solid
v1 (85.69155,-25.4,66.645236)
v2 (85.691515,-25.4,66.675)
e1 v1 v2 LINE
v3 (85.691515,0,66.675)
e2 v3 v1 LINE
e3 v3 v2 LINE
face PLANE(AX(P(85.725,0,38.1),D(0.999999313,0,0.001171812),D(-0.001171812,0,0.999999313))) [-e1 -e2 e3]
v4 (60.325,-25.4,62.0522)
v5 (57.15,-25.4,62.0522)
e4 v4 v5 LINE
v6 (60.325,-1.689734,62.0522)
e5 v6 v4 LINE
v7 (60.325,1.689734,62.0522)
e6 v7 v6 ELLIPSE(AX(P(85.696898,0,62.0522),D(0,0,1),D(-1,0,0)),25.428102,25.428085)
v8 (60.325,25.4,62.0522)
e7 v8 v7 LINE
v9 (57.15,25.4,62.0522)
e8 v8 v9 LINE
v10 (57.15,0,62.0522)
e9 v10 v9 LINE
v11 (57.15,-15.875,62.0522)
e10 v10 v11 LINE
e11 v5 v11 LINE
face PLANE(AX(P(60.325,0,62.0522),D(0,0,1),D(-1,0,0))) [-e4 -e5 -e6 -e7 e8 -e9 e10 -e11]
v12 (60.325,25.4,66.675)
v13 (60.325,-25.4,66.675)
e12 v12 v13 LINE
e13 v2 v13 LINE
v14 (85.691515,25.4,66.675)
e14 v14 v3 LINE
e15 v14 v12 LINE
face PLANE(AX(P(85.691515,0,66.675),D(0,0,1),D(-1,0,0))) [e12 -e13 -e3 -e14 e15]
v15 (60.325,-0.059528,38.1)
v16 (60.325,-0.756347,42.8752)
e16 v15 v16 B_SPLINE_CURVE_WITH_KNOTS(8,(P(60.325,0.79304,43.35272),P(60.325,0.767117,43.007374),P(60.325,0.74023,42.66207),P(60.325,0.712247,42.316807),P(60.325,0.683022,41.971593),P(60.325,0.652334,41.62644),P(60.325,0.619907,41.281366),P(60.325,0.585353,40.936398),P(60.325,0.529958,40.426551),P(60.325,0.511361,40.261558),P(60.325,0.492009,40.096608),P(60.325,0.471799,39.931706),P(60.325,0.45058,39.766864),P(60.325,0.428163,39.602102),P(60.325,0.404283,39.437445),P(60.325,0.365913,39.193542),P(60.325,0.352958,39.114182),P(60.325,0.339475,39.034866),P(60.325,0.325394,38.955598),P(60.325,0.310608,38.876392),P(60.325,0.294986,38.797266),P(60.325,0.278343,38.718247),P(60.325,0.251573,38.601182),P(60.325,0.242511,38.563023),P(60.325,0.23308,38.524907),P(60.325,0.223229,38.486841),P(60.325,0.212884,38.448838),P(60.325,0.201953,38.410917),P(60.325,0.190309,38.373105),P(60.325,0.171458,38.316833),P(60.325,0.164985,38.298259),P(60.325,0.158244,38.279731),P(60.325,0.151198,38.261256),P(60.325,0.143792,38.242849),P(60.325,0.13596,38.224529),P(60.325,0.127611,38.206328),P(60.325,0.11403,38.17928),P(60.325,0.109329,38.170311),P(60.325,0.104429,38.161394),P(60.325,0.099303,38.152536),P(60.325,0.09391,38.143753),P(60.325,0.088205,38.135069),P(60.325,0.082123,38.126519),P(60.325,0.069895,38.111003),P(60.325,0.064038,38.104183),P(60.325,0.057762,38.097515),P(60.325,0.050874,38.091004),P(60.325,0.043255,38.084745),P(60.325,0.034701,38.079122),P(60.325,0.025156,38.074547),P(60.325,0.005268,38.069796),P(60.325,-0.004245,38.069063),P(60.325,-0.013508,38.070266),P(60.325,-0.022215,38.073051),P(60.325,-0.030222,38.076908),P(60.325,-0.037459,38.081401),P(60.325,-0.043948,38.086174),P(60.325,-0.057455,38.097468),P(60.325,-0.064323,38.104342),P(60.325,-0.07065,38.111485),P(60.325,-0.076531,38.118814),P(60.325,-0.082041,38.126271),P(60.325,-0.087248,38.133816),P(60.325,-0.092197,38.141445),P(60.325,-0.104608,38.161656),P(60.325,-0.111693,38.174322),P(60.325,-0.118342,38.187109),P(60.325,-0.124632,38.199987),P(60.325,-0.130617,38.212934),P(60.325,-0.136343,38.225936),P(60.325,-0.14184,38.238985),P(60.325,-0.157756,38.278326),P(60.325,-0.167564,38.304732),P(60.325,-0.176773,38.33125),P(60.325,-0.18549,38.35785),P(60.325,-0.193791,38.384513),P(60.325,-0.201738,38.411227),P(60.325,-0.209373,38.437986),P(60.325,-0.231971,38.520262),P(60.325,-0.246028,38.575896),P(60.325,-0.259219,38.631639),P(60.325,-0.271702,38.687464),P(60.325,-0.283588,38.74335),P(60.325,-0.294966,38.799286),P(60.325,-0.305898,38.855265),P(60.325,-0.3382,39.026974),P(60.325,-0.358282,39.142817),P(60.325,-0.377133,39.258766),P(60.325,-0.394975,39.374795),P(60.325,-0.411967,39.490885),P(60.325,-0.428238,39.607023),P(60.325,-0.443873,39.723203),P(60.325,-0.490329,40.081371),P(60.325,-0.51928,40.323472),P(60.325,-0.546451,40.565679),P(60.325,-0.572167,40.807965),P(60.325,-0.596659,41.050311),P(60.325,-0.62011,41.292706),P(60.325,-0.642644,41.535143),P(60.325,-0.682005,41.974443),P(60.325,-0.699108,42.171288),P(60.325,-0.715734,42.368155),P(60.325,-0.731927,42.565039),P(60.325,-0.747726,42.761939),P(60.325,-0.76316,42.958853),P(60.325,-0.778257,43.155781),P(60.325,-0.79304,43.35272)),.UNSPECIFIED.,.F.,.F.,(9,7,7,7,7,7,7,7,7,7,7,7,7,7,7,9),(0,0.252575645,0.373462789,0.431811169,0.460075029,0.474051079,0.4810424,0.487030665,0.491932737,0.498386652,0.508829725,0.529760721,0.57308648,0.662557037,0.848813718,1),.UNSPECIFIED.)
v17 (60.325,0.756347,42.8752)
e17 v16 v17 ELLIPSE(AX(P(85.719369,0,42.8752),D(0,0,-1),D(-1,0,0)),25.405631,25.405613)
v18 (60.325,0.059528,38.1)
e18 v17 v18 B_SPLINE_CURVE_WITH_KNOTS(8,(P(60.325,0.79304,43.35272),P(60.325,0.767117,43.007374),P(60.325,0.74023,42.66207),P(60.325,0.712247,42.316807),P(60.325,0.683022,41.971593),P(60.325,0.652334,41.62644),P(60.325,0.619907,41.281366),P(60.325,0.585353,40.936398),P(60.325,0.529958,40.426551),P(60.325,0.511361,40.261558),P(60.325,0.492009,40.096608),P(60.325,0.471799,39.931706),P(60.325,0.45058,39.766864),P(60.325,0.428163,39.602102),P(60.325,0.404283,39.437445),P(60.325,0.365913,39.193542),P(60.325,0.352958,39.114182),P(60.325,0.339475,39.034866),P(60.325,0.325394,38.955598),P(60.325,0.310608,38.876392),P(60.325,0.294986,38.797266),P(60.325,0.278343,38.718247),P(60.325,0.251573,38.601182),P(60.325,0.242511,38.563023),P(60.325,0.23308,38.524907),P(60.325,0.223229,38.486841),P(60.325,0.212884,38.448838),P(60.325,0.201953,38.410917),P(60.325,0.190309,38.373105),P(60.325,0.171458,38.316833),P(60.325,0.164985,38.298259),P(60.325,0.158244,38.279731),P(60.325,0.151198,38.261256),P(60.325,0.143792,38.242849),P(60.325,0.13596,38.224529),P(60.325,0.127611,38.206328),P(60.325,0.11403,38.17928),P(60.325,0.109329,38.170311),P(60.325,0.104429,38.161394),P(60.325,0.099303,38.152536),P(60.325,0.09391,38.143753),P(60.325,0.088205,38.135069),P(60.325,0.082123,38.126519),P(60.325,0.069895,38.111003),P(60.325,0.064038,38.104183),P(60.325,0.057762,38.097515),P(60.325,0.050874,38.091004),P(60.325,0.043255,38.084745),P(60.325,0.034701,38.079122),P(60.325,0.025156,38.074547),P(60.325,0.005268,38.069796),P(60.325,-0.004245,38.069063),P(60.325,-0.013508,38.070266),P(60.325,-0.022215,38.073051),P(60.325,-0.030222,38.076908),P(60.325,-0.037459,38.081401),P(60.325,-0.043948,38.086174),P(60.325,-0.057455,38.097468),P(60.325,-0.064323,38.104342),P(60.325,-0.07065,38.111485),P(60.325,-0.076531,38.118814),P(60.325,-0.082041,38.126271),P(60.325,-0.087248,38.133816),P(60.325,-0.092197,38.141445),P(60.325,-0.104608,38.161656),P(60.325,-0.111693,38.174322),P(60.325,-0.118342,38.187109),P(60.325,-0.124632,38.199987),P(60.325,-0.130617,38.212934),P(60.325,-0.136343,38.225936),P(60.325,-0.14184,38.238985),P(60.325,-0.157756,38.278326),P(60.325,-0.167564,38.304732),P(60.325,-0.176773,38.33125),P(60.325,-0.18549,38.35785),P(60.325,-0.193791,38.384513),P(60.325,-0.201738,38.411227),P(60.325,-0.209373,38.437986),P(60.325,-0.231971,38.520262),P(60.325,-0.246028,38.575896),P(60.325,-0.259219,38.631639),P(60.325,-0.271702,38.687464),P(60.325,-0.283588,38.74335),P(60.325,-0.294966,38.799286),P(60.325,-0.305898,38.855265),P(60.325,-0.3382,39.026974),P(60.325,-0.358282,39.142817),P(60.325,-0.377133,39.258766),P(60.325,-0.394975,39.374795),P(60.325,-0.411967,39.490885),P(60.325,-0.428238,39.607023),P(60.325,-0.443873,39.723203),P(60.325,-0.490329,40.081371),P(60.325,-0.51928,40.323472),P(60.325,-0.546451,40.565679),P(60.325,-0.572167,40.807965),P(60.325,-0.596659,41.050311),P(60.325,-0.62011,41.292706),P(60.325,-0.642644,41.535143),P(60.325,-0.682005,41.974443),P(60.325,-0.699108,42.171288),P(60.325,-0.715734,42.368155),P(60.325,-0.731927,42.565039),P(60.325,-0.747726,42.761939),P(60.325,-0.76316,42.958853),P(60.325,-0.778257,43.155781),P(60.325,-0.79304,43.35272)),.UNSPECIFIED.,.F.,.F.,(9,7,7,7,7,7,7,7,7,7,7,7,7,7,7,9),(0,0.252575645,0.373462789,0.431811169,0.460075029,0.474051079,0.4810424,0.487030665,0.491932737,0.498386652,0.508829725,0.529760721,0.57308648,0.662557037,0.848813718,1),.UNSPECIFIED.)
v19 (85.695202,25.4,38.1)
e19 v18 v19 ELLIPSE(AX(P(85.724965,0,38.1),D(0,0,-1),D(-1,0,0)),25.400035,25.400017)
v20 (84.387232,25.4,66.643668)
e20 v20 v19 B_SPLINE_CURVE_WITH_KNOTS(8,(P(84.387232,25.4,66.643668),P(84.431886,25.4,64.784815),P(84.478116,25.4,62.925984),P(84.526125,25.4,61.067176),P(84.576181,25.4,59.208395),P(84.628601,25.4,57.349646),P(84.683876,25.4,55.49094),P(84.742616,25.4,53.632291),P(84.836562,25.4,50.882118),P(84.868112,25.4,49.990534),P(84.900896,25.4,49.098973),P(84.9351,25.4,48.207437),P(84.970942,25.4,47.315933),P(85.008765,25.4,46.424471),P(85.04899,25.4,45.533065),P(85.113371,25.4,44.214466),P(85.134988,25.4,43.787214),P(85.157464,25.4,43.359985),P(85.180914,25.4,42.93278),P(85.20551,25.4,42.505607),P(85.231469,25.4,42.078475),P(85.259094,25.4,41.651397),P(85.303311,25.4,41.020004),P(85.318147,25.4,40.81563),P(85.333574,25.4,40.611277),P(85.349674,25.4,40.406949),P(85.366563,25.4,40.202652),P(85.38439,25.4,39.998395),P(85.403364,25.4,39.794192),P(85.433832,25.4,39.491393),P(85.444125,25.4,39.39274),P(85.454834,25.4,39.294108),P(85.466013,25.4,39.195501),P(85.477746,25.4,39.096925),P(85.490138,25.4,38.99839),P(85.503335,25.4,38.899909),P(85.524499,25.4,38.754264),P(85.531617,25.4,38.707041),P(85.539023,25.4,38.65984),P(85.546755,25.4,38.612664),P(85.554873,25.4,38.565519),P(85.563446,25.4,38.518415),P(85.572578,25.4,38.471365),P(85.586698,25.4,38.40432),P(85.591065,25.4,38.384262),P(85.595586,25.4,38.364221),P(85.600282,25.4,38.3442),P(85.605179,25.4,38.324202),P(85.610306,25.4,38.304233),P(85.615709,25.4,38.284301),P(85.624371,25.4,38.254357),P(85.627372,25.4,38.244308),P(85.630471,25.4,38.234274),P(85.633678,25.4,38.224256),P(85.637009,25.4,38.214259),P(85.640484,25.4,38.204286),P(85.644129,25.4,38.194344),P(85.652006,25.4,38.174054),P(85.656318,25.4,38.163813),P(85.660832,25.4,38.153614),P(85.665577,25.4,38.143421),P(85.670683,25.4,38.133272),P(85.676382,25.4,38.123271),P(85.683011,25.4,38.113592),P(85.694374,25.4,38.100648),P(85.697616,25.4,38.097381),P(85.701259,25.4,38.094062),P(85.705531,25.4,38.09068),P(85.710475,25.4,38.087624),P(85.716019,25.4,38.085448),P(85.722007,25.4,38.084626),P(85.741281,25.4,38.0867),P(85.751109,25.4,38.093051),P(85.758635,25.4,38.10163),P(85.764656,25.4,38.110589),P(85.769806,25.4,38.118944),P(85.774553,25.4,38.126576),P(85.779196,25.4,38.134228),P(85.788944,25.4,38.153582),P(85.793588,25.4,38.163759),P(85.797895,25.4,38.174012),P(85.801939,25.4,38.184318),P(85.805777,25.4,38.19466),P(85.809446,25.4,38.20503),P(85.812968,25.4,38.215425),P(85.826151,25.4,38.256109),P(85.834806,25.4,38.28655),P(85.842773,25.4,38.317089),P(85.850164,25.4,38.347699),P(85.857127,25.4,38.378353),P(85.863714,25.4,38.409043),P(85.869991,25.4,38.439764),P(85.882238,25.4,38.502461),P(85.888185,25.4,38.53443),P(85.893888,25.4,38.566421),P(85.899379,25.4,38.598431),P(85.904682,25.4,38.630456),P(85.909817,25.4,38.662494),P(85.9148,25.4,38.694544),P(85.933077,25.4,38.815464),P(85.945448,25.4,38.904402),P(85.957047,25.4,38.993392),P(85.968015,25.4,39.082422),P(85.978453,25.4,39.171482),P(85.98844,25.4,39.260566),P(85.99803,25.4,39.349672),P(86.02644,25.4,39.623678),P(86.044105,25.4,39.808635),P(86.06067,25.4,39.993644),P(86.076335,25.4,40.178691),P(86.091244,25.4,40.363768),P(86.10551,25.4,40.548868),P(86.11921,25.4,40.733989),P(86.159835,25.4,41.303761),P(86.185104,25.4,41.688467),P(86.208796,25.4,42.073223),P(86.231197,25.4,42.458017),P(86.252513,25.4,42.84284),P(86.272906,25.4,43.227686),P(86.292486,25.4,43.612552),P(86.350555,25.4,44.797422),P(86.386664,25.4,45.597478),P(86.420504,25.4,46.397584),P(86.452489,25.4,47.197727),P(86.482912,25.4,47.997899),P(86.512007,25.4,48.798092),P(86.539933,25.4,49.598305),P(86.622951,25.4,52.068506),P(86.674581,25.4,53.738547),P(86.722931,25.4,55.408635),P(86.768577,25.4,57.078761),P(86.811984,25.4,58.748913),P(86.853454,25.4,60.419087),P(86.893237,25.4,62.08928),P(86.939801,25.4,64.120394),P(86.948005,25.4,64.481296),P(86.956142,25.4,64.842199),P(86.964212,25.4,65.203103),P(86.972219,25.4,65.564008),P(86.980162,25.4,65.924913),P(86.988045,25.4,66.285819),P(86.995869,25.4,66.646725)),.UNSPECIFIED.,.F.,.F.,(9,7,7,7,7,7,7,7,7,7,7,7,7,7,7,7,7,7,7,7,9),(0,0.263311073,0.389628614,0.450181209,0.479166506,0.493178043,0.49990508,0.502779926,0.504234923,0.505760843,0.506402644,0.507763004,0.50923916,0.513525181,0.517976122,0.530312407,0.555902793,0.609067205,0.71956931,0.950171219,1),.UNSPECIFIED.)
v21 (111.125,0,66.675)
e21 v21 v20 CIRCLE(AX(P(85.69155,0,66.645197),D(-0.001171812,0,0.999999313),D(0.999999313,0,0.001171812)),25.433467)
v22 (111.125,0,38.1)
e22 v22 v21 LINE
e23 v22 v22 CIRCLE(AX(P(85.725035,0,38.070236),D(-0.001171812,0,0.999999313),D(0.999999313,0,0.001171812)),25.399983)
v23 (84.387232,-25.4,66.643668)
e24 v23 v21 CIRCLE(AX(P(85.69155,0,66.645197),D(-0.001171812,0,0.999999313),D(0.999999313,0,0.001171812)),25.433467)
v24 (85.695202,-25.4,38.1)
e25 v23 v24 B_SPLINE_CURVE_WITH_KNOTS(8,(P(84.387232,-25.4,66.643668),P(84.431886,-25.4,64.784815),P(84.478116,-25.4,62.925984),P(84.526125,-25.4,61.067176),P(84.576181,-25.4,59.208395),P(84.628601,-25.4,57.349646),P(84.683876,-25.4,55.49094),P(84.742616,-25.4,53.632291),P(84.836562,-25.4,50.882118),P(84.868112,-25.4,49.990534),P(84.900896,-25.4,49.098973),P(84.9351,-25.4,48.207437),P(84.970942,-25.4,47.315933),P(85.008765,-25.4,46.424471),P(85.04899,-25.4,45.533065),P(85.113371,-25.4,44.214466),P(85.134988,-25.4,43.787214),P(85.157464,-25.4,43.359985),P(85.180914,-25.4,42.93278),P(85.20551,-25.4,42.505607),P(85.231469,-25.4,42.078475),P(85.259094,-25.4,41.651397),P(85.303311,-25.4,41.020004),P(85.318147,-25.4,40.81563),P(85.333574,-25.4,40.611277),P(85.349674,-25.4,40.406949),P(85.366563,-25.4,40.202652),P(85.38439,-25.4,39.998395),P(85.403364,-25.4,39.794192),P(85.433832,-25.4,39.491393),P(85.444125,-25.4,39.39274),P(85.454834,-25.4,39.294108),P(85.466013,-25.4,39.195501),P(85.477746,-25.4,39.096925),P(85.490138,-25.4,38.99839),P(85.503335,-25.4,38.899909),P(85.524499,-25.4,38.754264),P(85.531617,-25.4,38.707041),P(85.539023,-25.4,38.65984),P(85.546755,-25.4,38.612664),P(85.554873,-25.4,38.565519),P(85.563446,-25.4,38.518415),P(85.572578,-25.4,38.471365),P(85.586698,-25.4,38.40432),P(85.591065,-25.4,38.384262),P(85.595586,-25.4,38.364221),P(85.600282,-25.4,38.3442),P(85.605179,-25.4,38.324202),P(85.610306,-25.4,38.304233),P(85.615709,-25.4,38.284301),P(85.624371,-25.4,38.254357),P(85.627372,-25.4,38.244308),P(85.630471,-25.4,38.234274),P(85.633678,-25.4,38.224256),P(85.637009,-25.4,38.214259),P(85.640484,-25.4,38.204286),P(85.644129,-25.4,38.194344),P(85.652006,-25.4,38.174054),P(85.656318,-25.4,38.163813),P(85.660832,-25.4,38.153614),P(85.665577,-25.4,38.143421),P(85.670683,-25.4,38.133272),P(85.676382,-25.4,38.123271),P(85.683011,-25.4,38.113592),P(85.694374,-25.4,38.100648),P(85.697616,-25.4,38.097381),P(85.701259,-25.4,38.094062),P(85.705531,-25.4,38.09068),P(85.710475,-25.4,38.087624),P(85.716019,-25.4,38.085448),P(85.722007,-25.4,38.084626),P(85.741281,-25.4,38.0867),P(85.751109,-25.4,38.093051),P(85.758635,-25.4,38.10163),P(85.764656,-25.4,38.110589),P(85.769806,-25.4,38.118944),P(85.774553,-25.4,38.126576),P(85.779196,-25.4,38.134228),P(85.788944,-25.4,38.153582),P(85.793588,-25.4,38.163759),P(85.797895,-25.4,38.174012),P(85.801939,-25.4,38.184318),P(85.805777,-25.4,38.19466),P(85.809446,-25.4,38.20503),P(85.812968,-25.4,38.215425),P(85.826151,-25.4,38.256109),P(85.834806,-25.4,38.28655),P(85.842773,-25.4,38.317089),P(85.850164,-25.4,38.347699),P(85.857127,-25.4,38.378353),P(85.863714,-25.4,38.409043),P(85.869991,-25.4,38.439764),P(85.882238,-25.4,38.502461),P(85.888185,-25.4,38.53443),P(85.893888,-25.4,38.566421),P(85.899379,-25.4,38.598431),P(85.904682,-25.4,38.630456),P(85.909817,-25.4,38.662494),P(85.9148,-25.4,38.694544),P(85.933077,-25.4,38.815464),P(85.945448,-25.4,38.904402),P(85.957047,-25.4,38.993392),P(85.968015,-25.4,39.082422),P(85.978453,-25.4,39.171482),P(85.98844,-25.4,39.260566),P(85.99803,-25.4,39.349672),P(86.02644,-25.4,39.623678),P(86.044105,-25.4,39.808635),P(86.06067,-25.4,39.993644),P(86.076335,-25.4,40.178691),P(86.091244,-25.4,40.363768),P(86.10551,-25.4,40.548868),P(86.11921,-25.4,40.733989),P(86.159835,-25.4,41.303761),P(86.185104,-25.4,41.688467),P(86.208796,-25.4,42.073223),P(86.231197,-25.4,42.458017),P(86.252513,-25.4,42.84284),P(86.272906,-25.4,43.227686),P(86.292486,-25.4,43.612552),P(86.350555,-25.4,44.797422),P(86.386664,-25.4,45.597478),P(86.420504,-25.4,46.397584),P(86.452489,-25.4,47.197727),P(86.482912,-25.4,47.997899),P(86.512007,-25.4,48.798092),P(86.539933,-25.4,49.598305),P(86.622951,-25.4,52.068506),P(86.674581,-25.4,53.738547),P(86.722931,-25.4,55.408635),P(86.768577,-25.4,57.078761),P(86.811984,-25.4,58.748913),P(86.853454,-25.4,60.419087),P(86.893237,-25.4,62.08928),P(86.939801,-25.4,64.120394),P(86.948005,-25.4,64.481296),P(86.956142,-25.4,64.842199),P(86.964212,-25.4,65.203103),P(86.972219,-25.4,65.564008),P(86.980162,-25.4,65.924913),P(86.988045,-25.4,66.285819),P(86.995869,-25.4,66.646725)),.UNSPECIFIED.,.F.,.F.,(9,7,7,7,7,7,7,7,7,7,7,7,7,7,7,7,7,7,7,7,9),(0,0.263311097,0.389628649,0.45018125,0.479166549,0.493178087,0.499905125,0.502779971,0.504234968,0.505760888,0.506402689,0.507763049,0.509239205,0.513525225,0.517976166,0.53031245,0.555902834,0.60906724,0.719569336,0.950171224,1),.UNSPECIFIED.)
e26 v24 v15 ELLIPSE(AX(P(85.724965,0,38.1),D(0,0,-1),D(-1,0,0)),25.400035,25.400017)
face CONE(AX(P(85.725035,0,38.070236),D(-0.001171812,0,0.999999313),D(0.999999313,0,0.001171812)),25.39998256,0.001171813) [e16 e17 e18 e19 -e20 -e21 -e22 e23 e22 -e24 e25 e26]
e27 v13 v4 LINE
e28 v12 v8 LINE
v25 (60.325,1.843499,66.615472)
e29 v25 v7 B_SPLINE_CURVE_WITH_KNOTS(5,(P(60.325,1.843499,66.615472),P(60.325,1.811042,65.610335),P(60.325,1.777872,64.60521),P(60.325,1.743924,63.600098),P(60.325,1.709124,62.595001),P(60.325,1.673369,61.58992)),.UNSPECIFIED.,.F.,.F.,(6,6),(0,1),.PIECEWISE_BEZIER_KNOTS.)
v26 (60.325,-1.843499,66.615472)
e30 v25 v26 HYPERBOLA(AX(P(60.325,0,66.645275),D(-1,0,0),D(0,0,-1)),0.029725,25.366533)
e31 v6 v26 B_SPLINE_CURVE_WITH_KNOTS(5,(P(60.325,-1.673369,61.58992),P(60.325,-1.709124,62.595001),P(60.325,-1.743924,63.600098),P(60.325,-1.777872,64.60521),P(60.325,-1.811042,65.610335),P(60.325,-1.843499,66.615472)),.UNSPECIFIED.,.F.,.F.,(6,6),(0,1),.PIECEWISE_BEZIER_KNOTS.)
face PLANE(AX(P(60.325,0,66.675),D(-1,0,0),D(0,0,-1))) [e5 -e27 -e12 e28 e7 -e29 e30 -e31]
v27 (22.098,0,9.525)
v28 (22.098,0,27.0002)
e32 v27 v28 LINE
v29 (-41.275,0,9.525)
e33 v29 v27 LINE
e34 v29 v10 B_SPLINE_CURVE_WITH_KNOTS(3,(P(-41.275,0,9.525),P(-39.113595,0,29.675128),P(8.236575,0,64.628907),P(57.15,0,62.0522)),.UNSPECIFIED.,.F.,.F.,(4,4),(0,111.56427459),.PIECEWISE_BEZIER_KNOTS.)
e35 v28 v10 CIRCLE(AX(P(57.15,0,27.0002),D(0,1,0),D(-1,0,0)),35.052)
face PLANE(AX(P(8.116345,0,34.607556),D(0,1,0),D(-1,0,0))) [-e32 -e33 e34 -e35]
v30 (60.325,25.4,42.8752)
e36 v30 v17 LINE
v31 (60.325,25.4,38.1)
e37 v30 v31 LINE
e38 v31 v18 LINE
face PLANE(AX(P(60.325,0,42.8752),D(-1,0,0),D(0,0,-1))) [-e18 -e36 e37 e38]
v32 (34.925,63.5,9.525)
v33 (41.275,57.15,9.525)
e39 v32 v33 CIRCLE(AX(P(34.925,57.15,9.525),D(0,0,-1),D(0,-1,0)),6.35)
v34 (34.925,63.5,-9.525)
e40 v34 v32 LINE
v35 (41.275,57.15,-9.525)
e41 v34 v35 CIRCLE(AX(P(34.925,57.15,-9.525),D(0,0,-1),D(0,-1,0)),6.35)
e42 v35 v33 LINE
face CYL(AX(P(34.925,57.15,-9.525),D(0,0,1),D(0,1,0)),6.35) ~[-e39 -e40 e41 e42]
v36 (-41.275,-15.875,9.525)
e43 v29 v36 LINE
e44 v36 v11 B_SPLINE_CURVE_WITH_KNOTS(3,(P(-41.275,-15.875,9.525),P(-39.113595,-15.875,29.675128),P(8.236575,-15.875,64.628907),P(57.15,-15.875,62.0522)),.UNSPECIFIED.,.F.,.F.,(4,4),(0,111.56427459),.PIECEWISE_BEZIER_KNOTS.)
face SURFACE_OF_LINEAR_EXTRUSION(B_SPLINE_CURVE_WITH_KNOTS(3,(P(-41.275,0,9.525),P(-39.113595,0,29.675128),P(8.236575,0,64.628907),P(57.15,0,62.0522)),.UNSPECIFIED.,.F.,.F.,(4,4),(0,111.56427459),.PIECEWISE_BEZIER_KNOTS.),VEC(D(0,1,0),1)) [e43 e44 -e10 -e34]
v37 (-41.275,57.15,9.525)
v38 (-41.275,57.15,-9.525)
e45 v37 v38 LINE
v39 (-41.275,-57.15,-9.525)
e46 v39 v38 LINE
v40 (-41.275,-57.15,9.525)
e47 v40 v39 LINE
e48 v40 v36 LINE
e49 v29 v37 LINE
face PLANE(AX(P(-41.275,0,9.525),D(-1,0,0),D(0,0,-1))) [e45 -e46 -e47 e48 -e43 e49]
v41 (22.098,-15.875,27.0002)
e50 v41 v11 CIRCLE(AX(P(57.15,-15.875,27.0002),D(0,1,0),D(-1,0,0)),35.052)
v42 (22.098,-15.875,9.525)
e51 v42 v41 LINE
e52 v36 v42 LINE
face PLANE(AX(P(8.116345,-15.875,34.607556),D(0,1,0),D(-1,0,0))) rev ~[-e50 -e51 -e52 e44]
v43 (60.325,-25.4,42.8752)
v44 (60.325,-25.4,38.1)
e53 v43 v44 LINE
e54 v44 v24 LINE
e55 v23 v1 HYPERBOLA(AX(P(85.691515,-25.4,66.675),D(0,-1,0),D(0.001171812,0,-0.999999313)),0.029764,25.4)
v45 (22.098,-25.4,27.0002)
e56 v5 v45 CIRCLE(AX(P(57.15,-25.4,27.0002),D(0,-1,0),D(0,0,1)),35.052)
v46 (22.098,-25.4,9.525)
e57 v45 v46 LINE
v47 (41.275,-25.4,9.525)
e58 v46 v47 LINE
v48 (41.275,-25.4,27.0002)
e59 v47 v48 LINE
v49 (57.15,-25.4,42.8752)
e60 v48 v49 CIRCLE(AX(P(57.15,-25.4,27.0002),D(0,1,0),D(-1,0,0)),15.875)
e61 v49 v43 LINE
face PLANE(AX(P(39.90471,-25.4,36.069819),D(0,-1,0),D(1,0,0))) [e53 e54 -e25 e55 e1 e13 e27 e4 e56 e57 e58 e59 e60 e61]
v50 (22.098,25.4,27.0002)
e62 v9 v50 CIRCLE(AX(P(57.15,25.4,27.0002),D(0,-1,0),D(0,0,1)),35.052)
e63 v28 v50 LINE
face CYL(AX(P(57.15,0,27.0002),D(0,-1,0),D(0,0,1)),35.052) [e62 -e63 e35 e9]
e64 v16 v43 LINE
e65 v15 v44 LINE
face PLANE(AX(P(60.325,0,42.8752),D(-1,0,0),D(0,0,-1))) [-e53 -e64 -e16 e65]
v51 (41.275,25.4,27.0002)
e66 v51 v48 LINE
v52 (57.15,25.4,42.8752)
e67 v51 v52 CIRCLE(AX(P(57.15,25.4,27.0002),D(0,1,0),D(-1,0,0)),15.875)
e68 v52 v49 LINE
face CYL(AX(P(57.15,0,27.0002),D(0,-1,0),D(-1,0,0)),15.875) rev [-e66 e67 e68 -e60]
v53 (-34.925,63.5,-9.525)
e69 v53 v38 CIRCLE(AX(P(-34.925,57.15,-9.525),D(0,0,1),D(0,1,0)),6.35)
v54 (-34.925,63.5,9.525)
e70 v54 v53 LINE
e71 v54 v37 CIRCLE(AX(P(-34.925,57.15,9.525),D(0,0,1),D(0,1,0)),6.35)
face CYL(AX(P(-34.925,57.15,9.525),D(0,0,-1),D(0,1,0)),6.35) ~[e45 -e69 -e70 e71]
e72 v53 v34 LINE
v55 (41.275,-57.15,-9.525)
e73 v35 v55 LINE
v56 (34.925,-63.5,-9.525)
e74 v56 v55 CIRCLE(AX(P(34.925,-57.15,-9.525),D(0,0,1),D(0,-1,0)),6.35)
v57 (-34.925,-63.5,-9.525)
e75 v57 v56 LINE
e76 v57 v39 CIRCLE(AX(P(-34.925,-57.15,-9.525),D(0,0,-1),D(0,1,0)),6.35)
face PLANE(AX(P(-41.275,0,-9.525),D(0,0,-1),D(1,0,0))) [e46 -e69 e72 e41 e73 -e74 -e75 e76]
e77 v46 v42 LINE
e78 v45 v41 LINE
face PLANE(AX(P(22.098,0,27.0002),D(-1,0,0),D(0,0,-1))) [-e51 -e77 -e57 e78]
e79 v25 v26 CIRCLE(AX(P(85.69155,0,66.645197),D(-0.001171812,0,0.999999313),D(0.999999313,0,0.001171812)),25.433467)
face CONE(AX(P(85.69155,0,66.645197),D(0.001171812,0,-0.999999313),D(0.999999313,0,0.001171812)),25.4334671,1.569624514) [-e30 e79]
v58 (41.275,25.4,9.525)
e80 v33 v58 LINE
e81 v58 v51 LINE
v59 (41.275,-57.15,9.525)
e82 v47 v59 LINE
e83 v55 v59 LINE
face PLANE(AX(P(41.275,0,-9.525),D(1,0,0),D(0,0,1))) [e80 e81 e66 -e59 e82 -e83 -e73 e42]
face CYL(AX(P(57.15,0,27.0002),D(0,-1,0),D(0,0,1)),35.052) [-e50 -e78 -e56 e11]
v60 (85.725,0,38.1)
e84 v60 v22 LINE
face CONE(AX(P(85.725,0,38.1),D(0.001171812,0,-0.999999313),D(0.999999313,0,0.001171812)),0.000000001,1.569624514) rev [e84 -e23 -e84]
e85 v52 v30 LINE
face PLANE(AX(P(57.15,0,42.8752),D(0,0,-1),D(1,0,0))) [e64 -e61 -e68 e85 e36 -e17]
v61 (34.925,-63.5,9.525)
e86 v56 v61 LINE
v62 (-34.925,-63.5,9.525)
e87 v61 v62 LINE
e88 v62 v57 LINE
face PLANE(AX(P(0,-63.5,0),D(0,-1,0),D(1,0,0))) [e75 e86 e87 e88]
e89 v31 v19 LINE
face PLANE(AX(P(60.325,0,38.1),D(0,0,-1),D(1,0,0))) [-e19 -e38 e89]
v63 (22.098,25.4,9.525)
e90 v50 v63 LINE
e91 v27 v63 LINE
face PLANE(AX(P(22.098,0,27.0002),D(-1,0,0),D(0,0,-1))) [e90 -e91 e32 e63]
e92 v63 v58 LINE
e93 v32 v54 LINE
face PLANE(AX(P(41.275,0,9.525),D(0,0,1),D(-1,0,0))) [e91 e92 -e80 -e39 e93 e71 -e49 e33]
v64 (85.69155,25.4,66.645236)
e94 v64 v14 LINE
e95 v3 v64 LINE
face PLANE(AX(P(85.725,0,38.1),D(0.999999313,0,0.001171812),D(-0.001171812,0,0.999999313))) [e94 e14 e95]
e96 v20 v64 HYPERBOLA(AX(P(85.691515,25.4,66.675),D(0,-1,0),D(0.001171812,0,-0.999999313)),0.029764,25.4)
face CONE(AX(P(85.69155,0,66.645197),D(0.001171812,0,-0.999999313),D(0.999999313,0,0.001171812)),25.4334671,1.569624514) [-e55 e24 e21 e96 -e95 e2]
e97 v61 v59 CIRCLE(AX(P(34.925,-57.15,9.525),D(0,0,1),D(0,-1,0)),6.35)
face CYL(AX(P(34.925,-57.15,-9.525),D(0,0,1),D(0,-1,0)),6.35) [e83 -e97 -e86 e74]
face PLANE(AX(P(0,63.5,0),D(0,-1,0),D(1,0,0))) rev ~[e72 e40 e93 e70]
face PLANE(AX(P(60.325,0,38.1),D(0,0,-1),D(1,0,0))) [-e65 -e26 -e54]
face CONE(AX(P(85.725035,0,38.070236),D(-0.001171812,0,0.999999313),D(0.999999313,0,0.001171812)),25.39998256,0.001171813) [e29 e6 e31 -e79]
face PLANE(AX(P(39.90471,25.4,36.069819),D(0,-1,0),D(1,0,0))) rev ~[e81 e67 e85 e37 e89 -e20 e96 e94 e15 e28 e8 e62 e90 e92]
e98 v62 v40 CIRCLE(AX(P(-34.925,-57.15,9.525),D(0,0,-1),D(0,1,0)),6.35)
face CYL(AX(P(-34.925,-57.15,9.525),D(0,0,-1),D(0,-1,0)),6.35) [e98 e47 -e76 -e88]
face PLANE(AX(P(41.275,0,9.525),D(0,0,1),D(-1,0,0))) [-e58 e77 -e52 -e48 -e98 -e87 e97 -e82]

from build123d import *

# Parameters (mm, degrees)
F1_DEPTH = 63.5
F2_DEPTH = 25.4
F3_DEPTH = 15.875
F5_R     = 6.35


with BuildPart() as f1:
    # F0 (on Front) → F1 (new body, symmetric)
    with BuildSketch(Plane.XZ):
        Polygon((-41.275, -9.525), (41.275, -9.525), (41.275, 9.525), (22.098, 9.525), (-41.275, 9.525), align=None)
    extrude(amount=F1_DEPTH, both=True)

    # F0 (on Front) → F2 (join, symmetric)
    with BuildSketch(Plane.XZ):
        with BuildLine():
            Line((22.098, 9.525), (41.275, 9.525))
            Line((41.275, 9.525), (41.275, 27.0002))
            ThreePointArc((41.275, 27.0002), (45.9246798487, 38.2255201513), (57.15, 42.8752))
            Line((57.15, 42.8752), (60.325, 42.8752))
            Line((60.325, 42.8752), (60.325, 62.0522))
            Line((60.325, 62.0522), (57.15, 62.0522))
            ThreePointArc((57.15, 62.0522), (32.3644931058, 51.7857068942), (22.098, 27.0002))
            Line((22.098, 27.0002), (22.098, 9.525))
        make_face()
        Polygon((60.325, 66.675), (60.325, 62.0522), (60.325, 42.8752), (60.325, 38.1), (85.725, 38.1), (85.6915154391, 66.675), align=None)
    extrude(amount=F2_DEPTH, both=True)

    # F0 (on Front) → F3 (join)
    with BuildSketch(Plane.XZ):
        with BuildLine():
            add(Edge.make_bspline(
                [(-41.275, 9.525), (-39.1135952527, 29.6751279876), (8.2365749404, 64.628906548), (57.15, 62.0522)],
                knots=[0, 0, 0, 0, 111.5642745902, 111.5642745902, 111.5642745902, 111.5642745902], degree=3))
            Line((-41.275, 9.525), (22.098, 9.525))
            Line((22.098, 9.525), (22.098, 27.0002))
            ThreePointArc((22.098, 27.0002), (32.3644931058, 51.7857068942), (57.15, 62.0522))
        make_face()
    extrude(amount=F3_DEPTH)

    # F0 (on Front) → F4 (revolve)
    with BuildSketch(Plane.XZ):
        Polygon((111.125, 66.675), (85.6915154391, 66.675), (85.725, 38.1), (111.125, 38.1), align=None)
    revolve(axis=Axis((85.7082577195, 0, 52.3875), (-0.0011718124, 0, 0.9999993134)))

    # F5
    f5_edges = [f1.edges().sort_by_distance(p)[0] for p in [
        (-41.275, -63.5, 0),
        (41.275, -63.5, 0),
        (41.275, 63.5, 0),
        (-41.275, 63.5, 0),
    ]]
    fillet(f5_edges, radius=F5_R)


solid = f1.part
